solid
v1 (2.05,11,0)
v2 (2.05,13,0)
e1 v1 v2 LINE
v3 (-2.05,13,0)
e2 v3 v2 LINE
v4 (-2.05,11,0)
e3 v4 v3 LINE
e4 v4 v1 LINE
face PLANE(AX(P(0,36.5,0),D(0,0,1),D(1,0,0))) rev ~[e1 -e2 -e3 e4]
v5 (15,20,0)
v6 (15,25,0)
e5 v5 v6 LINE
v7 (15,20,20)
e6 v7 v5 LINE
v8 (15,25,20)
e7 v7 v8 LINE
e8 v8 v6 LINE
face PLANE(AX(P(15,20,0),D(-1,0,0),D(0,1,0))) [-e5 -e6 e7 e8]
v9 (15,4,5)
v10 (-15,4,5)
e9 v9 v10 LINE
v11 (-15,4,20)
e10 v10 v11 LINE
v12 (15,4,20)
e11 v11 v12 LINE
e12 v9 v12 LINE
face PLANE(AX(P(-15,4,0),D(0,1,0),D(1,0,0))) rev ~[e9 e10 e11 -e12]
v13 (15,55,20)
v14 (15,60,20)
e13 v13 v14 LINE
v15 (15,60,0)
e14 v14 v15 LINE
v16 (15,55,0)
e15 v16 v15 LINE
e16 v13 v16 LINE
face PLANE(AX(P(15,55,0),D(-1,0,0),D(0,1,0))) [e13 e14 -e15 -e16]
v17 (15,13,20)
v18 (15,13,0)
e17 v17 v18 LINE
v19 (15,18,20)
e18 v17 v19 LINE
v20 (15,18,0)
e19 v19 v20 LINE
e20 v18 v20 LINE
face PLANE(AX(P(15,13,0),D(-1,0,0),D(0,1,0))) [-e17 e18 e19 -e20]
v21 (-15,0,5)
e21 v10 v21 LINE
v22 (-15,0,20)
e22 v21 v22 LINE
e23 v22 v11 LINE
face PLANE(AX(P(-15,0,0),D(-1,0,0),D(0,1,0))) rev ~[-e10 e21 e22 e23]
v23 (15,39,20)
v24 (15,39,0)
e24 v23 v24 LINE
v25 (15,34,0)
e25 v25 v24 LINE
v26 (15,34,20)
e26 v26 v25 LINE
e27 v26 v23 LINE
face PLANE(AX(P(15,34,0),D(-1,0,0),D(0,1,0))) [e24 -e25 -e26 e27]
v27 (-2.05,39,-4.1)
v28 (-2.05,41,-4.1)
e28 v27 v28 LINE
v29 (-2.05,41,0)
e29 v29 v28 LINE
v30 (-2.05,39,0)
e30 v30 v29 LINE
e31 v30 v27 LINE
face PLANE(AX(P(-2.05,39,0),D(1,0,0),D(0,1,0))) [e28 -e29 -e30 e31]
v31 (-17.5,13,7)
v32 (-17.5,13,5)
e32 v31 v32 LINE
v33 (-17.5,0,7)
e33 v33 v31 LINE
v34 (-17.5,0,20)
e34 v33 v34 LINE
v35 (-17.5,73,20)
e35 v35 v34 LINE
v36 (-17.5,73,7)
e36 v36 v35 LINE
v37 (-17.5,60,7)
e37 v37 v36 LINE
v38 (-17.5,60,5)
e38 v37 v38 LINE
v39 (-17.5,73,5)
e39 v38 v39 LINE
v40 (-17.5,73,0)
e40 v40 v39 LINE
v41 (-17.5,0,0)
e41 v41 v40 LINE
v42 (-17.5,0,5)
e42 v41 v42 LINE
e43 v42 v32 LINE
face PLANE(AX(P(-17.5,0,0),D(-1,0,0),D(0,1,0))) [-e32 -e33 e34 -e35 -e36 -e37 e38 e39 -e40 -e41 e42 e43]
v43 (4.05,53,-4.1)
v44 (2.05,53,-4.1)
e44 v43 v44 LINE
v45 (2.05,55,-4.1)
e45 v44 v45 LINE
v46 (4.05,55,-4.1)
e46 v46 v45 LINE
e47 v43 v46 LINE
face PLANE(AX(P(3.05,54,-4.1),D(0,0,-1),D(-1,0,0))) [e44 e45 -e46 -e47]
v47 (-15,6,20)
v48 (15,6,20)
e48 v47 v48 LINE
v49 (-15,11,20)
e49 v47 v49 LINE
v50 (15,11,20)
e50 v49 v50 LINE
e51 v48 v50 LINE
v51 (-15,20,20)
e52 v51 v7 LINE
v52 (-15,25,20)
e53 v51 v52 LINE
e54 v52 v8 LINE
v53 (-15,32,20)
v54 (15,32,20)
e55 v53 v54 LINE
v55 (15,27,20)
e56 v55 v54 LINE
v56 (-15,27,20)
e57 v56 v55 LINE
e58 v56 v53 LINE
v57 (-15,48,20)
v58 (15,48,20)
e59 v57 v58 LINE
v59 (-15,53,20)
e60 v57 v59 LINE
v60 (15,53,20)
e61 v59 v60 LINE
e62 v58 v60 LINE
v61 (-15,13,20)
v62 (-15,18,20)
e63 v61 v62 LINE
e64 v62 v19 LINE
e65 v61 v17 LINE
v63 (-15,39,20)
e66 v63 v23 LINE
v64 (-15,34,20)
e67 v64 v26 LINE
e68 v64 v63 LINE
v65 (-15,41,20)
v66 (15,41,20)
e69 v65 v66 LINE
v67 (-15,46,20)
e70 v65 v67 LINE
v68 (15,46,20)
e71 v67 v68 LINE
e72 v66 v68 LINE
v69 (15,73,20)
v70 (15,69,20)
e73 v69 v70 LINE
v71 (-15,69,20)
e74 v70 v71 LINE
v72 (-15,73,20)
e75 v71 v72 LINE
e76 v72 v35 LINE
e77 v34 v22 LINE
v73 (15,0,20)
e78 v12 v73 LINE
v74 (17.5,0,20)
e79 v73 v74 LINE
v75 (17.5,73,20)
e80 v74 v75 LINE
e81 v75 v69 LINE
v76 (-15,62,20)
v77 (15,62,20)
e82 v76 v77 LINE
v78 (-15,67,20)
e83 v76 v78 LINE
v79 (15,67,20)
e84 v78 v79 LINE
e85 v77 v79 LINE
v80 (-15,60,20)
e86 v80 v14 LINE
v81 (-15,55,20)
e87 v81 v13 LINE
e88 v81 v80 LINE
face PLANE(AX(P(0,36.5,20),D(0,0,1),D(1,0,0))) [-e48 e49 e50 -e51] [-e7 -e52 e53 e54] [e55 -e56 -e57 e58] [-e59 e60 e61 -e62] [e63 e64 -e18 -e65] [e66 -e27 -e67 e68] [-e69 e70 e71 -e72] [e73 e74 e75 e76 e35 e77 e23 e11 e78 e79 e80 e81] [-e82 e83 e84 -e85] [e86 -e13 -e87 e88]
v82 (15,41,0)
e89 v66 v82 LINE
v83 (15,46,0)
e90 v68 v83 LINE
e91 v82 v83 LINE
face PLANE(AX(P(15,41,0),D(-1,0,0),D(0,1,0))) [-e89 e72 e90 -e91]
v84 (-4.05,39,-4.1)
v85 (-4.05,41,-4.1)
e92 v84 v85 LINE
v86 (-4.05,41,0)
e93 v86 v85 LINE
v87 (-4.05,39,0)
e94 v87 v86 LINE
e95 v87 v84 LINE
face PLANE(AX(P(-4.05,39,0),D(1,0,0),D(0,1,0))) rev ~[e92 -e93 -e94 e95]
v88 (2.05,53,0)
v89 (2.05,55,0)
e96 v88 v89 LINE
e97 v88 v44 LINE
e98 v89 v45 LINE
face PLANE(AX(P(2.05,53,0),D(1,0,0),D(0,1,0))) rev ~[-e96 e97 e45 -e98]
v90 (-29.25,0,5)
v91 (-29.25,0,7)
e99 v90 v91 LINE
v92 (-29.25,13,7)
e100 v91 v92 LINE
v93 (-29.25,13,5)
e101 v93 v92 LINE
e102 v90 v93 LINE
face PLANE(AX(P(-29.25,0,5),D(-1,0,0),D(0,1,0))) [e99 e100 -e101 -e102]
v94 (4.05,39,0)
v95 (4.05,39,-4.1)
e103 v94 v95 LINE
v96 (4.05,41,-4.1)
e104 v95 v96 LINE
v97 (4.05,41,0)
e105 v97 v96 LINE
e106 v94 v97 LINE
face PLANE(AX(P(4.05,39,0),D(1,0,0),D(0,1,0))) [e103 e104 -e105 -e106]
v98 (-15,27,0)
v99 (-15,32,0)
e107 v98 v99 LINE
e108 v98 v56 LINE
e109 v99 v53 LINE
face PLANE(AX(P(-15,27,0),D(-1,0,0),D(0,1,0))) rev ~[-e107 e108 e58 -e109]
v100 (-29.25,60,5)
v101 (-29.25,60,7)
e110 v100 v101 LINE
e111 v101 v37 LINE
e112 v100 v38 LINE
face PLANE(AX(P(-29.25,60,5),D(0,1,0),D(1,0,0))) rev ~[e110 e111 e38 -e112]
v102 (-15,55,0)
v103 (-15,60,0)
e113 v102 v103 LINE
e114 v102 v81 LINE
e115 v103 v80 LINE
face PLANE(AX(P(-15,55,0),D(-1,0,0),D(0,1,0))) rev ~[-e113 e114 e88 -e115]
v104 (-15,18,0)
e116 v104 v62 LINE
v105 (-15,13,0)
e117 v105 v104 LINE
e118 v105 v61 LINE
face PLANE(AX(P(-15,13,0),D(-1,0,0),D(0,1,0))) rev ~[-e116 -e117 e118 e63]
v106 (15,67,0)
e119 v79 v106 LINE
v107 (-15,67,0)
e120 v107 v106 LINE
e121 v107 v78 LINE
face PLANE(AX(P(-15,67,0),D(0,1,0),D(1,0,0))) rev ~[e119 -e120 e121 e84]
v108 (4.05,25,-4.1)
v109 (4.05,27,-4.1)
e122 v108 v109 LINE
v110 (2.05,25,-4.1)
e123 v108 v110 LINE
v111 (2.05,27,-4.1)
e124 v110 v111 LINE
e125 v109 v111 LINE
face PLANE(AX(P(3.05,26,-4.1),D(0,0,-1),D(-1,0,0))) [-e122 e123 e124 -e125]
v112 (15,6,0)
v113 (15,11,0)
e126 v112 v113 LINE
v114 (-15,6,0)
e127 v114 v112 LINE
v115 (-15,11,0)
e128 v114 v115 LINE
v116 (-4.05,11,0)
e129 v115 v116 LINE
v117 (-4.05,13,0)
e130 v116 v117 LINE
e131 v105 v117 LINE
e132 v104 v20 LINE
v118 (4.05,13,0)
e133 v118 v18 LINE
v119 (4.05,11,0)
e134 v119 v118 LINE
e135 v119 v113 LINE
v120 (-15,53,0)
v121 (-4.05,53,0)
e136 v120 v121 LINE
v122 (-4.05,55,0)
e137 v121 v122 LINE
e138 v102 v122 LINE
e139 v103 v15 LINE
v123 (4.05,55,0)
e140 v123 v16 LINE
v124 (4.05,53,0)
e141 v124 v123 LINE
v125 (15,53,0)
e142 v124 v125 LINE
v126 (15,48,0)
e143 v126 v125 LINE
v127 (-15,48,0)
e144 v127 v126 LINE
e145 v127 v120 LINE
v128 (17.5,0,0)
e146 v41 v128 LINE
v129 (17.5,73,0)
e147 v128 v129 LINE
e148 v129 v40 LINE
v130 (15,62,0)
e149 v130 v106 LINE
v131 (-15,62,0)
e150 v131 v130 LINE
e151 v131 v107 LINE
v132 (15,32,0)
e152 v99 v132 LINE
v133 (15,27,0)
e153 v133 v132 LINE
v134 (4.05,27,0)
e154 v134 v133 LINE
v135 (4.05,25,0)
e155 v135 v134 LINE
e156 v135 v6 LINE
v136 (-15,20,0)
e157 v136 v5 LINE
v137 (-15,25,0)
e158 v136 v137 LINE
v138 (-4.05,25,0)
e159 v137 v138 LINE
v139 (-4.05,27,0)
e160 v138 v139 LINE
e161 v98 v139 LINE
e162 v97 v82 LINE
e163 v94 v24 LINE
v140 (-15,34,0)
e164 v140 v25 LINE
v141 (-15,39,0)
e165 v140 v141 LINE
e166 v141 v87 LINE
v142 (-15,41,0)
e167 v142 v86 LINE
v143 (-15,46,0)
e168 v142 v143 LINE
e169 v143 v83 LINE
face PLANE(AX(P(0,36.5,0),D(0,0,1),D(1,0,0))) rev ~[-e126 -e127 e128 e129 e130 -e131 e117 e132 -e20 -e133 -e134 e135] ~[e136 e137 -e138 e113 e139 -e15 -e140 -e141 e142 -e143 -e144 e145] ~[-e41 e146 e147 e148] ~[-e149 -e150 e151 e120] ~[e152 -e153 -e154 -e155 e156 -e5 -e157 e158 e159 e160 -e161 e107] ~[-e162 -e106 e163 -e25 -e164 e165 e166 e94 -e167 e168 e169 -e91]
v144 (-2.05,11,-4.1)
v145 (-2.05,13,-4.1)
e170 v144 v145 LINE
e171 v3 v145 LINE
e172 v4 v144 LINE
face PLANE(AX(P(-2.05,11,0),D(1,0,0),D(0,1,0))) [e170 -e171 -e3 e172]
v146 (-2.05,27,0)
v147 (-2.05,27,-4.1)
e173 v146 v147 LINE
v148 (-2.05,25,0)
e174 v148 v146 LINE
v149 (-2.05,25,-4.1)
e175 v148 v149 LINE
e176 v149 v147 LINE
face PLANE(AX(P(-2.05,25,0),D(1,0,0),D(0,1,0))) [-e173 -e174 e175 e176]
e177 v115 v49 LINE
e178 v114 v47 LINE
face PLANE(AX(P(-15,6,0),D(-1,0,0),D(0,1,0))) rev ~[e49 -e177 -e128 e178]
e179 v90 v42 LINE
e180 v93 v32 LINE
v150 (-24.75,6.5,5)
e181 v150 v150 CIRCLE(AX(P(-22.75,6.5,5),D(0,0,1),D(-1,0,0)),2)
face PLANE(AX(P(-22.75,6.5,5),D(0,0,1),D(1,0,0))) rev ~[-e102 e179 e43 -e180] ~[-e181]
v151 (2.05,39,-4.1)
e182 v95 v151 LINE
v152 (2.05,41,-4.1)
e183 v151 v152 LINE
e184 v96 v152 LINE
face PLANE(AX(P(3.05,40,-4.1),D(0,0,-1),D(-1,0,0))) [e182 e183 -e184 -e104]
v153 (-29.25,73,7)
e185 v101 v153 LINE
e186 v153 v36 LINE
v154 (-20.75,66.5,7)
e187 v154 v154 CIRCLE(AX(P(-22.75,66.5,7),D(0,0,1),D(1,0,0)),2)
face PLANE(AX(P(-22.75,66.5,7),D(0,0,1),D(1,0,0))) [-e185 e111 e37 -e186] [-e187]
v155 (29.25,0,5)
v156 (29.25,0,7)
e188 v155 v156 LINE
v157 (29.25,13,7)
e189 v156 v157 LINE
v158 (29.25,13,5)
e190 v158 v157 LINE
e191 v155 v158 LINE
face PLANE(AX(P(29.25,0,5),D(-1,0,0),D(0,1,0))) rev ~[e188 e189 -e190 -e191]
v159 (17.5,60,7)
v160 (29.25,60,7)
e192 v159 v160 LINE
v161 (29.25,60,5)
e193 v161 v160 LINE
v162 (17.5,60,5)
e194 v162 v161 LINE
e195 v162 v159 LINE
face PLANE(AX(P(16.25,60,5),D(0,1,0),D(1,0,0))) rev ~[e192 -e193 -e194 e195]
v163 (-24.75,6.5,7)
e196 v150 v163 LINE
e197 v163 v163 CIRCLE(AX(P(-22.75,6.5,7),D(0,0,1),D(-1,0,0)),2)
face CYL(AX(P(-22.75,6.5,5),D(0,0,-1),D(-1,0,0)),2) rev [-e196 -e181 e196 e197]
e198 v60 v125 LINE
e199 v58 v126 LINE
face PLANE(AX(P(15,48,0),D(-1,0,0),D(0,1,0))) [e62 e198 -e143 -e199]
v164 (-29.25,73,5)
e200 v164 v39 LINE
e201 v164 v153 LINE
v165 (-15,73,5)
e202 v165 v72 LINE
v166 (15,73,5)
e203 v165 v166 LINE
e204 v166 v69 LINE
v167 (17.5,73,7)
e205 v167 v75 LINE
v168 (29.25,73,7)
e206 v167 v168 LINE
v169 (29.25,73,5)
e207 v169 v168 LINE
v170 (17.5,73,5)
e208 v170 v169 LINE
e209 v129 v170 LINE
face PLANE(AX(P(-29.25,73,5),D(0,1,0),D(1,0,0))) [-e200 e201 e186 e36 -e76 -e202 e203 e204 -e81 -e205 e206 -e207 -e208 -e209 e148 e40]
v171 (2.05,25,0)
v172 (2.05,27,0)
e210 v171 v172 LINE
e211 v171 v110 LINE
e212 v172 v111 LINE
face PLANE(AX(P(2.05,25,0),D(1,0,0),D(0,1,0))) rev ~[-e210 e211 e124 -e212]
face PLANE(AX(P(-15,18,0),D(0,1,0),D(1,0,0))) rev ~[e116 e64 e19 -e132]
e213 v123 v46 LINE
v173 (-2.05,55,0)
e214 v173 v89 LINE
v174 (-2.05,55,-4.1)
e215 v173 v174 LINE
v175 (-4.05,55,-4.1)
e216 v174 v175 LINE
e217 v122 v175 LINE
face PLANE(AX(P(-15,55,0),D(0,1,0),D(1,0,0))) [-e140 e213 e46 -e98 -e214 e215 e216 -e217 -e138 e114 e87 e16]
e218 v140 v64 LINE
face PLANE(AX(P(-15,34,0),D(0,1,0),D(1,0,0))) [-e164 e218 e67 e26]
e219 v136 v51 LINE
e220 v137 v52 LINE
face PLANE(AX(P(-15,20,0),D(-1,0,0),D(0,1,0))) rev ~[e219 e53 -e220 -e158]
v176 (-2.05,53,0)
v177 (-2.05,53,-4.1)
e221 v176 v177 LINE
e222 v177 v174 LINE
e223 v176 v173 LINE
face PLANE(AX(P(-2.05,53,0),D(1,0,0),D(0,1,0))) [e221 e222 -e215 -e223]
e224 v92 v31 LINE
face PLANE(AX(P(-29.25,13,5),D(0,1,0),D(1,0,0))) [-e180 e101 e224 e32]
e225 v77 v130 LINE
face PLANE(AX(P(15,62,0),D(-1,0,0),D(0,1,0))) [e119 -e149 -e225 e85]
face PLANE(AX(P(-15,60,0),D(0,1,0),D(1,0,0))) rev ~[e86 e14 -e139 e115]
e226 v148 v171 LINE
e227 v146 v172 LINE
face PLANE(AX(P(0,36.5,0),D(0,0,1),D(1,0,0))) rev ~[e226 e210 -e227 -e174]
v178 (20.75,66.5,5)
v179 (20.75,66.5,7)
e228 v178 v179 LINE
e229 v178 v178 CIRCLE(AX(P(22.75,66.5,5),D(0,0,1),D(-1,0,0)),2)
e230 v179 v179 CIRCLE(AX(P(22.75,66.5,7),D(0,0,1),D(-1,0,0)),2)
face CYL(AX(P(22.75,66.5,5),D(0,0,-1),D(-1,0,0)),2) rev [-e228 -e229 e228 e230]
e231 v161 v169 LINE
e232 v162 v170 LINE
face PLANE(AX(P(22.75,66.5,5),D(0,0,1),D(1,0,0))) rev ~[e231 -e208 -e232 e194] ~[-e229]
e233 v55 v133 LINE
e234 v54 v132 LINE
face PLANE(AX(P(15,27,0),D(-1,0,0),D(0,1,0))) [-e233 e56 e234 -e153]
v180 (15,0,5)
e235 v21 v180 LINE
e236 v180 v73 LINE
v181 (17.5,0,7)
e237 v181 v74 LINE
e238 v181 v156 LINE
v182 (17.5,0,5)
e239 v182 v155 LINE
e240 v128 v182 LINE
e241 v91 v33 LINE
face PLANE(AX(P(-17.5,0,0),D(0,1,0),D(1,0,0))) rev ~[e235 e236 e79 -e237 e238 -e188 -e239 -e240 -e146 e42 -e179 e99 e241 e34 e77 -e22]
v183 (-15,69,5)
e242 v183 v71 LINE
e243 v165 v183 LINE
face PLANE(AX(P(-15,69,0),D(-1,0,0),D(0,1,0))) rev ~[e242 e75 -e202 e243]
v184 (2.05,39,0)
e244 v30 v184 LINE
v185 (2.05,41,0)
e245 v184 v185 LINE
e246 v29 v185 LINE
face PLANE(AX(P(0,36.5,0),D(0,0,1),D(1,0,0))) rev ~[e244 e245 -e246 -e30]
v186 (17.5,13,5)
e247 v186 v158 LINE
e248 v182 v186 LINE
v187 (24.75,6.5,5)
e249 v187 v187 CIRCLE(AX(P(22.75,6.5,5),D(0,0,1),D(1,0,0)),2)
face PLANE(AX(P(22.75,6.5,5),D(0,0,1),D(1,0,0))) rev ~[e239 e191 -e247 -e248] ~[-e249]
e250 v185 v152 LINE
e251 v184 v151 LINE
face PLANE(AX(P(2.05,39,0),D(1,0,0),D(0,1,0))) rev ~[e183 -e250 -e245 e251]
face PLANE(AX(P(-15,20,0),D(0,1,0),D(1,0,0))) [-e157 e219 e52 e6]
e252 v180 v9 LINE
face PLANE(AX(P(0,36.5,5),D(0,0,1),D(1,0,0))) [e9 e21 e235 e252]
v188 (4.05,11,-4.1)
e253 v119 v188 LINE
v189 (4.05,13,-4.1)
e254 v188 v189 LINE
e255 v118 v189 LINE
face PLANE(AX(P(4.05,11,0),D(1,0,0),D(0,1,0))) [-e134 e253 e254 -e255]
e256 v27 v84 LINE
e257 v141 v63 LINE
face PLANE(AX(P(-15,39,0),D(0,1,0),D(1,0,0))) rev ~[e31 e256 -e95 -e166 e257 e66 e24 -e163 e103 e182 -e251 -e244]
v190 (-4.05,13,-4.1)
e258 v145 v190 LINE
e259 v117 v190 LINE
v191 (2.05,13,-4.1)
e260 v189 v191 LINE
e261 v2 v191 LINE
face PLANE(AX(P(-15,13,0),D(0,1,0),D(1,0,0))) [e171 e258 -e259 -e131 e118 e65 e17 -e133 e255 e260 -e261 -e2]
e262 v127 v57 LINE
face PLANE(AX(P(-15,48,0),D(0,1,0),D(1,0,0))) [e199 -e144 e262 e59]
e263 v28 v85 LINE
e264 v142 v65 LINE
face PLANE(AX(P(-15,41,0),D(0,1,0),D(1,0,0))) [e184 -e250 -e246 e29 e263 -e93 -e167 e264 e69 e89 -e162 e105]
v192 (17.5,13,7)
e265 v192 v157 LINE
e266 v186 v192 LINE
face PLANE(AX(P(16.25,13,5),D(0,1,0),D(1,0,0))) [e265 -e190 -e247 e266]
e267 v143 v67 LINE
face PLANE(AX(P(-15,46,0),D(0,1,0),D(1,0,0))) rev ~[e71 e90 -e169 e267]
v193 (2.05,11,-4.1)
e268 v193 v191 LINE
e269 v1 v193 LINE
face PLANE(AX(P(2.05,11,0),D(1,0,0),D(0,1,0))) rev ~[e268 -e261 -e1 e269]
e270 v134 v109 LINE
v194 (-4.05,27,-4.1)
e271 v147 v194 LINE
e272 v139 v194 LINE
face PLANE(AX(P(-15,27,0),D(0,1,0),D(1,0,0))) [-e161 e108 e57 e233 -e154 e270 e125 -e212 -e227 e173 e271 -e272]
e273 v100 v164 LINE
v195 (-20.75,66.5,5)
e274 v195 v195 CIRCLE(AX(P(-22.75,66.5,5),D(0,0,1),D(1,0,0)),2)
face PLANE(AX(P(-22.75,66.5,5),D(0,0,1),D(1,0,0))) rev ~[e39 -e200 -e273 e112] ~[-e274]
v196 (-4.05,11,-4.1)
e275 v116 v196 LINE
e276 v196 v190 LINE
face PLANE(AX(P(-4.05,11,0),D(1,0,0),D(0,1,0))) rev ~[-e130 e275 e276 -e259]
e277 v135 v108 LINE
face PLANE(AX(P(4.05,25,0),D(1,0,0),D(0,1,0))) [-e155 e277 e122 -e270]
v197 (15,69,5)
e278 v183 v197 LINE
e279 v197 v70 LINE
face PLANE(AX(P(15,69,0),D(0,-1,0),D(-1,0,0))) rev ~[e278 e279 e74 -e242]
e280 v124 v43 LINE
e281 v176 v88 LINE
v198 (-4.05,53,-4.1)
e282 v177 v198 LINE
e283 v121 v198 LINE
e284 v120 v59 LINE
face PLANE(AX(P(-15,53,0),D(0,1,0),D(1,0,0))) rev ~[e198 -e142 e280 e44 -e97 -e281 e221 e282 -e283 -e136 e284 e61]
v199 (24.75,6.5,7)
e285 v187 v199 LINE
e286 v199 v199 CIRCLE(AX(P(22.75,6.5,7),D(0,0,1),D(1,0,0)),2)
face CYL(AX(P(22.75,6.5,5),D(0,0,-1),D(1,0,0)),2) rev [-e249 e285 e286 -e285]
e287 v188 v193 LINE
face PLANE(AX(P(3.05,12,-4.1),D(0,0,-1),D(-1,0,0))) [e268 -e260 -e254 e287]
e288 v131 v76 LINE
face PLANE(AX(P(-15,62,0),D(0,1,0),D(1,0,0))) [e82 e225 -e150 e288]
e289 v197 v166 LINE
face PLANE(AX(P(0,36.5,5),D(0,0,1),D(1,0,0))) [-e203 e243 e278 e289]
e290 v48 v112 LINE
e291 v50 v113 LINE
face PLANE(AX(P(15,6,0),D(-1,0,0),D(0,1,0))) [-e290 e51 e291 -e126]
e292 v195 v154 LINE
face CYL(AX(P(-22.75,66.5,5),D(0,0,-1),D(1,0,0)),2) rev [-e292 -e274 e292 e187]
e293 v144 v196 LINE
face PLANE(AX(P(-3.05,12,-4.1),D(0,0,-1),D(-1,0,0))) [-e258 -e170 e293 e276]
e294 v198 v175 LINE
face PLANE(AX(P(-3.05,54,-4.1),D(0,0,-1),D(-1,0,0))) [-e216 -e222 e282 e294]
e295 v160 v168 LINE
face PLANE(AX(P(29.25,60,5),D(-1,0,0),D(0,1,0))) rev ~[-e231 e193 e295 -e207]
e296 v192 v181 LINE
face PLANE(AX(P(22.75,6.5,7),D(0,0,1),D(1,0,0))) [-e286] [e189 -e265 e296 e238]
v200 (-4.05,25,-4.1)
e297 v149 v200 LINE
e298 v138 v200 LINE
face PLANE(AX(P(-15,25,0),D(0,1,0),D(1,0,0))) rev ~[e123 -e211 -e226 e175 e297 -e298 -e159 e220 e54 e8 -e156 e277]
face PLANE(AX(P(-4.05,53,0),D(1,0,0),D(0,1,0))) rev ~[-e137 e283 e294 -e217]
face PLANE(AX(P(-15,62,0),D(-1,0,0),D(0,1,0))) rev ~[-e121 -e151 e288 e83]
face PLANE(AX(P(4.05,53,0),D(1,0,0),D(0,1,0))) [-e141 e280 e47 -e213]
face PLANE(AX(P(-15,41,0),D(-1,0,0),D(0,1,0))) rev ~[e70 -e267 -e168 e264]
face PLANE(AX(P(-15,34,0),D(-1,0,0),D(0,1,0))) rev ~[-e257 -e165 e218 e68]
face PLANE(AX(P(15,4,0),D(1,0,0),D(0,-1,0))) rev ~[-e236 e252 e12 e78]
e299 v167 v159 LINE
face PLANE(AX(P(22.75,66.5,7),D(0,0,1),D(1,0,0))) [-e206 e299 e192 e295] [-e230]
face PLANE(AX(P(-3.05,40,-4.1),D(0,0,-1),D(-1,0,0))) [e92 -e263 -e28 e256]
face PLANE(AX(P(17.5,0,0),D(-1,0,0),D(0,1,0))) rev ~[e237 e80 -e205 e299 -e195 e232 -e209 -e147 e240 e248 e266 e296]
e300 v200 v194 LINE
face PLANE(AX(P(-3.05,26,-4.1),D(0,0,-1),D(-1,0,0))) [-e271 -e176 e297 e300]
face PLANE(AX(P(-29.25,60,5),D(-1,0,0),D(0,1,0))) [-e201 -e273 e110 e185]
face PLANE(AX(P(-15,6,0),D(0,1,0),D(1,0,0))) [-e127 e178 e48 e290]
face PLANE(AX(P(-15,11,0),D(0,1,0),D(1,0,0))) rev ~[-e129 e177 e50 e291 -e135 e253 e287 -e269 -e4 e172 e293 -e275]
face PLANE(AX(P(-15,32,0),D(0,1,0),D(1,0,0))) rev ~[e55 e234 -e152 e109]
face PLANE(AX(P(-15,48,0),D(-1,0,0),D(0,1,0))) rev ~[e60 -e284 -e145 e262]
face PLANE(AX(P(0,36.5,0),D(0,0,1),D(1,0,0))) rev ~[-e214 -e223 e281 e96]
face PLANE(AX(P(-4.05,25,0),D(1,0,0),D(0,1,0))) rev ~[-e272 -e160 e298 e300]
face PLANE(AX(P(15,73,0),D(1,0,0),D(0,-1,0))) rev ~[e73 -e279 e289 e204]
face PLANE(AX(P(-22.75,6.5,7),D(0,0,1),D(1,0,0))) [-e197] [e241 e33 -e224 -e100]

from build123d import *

# Parameters (mm, degrees)
SKETCH1_W           = 35
SKETCH1_H           = 73
SKETCH1_W_2         = 30
SKETCH1_H_2         = 5
BOSS_EXTRUDE1_DEPTH = 5
SKETCH2_W           = 2
SKETCH2_H           = 2
BOSS_EXTRUDE2_DEPTH = 4.1
SKETCH4_W           = 13
SKETCH4_H           = 13
SKETCH4_R           = 2
BOSS_EXTRUDE3_DEPTH = 2
SKETCH7_W           = 30
SKETCH7_H           = 5
BOSS_EXTRUDE4_DEPTH = 20


with BuildPart() as part:
    # Sketch1 → Boss-Extrude1 (new body)
    with BuildSketch(Plane.XY):
        with Locations((0, 36.5)):
            Rectangle(SKETCH1_W, SKETCH1_H)
        with Locations((0, 64.5)):
            Rectangle(SKETCH1_W_2, SKETCH1_H_2, mode=Mode.SUBTRACT)
        with Locations((0, 57.5)):
            Rectangle(SKETCH1_W_2, SKETCH1_H_2, mode=Mode.SUBTRACT)
        with Locations((0, 50.5)):
            Rectangle(SKETCH1_W_2, SKETCH1_H_2, mode=Mode.SUBTRACT)
        with Locations((0, 43.5)):
            Rectangle(SKETCH1_W_2, SKETCH1_H_2, mode=Mode.SUBTRACT)
        with Locations((0, 36.5)):
            Rectangle(SKETCH1_W_2, SKETCH1_H_2, mode=Mode.SUBTRACT)
        with Locations((0, 29.5)):
            Rectangle(SKETCH1_W_2, SKETCH1_H_2, mode=Mode.SUBTRACT)
        with Locations((0, 22.5)):
            Rectangle(SKETCH1_W_2, SKETCH1_H_2, mode=Mode.SUBTRACT)
        with Locations((0, 15.5)):
            Rectangle(SKETCH1_W_2, SKETCH1_H_2, mode=Mode.SUBTRACT)
        with Locations((0, 8.5)):
            Rectangle(SKETCH1_W_2, SKETCH1_H_2, mode=Mode.SUBTRACT)
    extrude(amount=BOSS_EXTRUDE1_DEPTH)

    # Sketch2 → Boss-Extrude2 (add)
    with BuildSketch(Plane(origin=(0, 0, 0), x_dir=(-1, 0, 0), z_dir=(0, 0, -1))):
        with Locations((-3.05, 40)):
            Rectangle(SKETCH2_W, SKETCH2_H)
        with Locations((3.05, 40)):
            Rectangle(SKETCH2_W, SKETCH2_H)
        with Locations((-3.05, 54)):
            Rectangle(SKETCH2_W, SKETCH2_H)
        with Locations((3.05, 54)):
            Rectangle(SKETCH2_W, SKETCH2_H)
        with Locations((-3.05, 26)):
            Rectangle(SKETCH2_W, SKETCH2_H)
        with Locations((3.05, 26)):
            Rectangle(SKETCH2_W, SKETCH2_H)
        with Locations((-3.05, 12)):
            Rectangle(SKETCH2_W, SKETCH2_H)
        with Locations((3.05, 12)):
            Rectangle(SKETCH2_W, SKETCH2_H)
    extrude(amount=BOSS_EXTRUDE2_DEPTH)

    # Sketch4 → Boss-Extrude3 (add)
    # profile 1 of 4: a face of its own
    with BuildSketch(Plane.XY.offset(5)):
        with Locations((-22.75, 66.5)):
            Rectangle(SKETCH4_W, SKETCH4_H)
        with Locations((-22.75, 66.5)):
            Circle(SKETCH4_R, mode=Mode.SUBTRACT)
    # profile 2 of 4: a face of its own
    with BuildSketch(Plane.XY.offset(5)):
        with Locations((-22.75, 6.5)):
            Rectangle(SKETCH4_W, SKETCH4_H)
        with Locations(Location((-22.75, 6.5, 0), (0, 0, 180))):
            Circle(SKETCH4_R, mode=Mode.SUBTRACT)
    # profile 3 of 4: a face of its own
    with BuildSketch(Plane.XY.offset(5)):
        with Locations((22.75, 66.5)):
            Rectangle(SKETCH4_W, SKETCH4_H)
        with Locations(Location((22.75, 66.5, 0), (0, 0, 180))):
            Circle(SKETCH4_R, mode=Mode.SUBTRACT)
    # profile 4 of 4: a face of its own
    with BuildSketch(Plane.XY.offset(5)):
        with Locations((22.75, 6.5)):
            Rectangle(SKETCH4_W, SKETCH4_H)
        with Locations((22.75, 6.5)):
            Circle(SKETCH4_R, mode=Mode.SUBTRACT)
    extrude(amount=BOSS_EXTRUDE3_DEPTH)

    # Sketch7 → Boss-Extrude4 (add)
    with BuildSketch(Plane.XY):
        Polygon((-15, 69), (-15, 73), (-17.5, 73), (-17.5, 0), (-15, 0), (-15, 4), (15, 4), (15, 0), (17.5, 0), (17.5, 73), (15, 73), (15, 69), align=None)
        with Locations((0, 64.5)):
            Rectangle(SKETCH7_W, SKETCH7_H, mode=Mode.SUBTRACT)
        with Locations((0, 8.5)):
            Rectangle(SKETCH7_W, SKETCH7_H, mode=Mode.SUBTRACT)
        with Locations((0, 15.5)):
            Rectangle(SKETCH7_W, SKETCH7_H, mode=Mode.SUBTRACT)
        with Locations((0, 22.5)):
            Rectangle(SKETCH7_W, SKETCH7_H, mode=Mode.SUBTRACT)
        with Locations((0, 29.5)):
            Rectangle(SKETCH7_W, SKETCH7_H, mode=Mode.SUBTRACT)
        with Locations((0, 36.5)):
            Rectangle(SKETCH7_W, SKETCH7_H, mode=Mode.SUBTRACT)
        with Locations((0, 43.5)):
            Rectangle(SKETCH7_W, SKETCH7_H, mode=Mode.SUBTRACT)
        with Locations((0, 50.5)):
            Rectangle(SKETCH7_W, SKETCH7_H, mode=Mode.SUBTRACT)
        with Locations((0, 57.5)):
            Rectangle(SKETCH7_W, SKETCH7_H, mode=Mode.SUBTRACT)
    extrude(amount=BOSS_EXTRUDE4_DEPTH)


solid = part.part
